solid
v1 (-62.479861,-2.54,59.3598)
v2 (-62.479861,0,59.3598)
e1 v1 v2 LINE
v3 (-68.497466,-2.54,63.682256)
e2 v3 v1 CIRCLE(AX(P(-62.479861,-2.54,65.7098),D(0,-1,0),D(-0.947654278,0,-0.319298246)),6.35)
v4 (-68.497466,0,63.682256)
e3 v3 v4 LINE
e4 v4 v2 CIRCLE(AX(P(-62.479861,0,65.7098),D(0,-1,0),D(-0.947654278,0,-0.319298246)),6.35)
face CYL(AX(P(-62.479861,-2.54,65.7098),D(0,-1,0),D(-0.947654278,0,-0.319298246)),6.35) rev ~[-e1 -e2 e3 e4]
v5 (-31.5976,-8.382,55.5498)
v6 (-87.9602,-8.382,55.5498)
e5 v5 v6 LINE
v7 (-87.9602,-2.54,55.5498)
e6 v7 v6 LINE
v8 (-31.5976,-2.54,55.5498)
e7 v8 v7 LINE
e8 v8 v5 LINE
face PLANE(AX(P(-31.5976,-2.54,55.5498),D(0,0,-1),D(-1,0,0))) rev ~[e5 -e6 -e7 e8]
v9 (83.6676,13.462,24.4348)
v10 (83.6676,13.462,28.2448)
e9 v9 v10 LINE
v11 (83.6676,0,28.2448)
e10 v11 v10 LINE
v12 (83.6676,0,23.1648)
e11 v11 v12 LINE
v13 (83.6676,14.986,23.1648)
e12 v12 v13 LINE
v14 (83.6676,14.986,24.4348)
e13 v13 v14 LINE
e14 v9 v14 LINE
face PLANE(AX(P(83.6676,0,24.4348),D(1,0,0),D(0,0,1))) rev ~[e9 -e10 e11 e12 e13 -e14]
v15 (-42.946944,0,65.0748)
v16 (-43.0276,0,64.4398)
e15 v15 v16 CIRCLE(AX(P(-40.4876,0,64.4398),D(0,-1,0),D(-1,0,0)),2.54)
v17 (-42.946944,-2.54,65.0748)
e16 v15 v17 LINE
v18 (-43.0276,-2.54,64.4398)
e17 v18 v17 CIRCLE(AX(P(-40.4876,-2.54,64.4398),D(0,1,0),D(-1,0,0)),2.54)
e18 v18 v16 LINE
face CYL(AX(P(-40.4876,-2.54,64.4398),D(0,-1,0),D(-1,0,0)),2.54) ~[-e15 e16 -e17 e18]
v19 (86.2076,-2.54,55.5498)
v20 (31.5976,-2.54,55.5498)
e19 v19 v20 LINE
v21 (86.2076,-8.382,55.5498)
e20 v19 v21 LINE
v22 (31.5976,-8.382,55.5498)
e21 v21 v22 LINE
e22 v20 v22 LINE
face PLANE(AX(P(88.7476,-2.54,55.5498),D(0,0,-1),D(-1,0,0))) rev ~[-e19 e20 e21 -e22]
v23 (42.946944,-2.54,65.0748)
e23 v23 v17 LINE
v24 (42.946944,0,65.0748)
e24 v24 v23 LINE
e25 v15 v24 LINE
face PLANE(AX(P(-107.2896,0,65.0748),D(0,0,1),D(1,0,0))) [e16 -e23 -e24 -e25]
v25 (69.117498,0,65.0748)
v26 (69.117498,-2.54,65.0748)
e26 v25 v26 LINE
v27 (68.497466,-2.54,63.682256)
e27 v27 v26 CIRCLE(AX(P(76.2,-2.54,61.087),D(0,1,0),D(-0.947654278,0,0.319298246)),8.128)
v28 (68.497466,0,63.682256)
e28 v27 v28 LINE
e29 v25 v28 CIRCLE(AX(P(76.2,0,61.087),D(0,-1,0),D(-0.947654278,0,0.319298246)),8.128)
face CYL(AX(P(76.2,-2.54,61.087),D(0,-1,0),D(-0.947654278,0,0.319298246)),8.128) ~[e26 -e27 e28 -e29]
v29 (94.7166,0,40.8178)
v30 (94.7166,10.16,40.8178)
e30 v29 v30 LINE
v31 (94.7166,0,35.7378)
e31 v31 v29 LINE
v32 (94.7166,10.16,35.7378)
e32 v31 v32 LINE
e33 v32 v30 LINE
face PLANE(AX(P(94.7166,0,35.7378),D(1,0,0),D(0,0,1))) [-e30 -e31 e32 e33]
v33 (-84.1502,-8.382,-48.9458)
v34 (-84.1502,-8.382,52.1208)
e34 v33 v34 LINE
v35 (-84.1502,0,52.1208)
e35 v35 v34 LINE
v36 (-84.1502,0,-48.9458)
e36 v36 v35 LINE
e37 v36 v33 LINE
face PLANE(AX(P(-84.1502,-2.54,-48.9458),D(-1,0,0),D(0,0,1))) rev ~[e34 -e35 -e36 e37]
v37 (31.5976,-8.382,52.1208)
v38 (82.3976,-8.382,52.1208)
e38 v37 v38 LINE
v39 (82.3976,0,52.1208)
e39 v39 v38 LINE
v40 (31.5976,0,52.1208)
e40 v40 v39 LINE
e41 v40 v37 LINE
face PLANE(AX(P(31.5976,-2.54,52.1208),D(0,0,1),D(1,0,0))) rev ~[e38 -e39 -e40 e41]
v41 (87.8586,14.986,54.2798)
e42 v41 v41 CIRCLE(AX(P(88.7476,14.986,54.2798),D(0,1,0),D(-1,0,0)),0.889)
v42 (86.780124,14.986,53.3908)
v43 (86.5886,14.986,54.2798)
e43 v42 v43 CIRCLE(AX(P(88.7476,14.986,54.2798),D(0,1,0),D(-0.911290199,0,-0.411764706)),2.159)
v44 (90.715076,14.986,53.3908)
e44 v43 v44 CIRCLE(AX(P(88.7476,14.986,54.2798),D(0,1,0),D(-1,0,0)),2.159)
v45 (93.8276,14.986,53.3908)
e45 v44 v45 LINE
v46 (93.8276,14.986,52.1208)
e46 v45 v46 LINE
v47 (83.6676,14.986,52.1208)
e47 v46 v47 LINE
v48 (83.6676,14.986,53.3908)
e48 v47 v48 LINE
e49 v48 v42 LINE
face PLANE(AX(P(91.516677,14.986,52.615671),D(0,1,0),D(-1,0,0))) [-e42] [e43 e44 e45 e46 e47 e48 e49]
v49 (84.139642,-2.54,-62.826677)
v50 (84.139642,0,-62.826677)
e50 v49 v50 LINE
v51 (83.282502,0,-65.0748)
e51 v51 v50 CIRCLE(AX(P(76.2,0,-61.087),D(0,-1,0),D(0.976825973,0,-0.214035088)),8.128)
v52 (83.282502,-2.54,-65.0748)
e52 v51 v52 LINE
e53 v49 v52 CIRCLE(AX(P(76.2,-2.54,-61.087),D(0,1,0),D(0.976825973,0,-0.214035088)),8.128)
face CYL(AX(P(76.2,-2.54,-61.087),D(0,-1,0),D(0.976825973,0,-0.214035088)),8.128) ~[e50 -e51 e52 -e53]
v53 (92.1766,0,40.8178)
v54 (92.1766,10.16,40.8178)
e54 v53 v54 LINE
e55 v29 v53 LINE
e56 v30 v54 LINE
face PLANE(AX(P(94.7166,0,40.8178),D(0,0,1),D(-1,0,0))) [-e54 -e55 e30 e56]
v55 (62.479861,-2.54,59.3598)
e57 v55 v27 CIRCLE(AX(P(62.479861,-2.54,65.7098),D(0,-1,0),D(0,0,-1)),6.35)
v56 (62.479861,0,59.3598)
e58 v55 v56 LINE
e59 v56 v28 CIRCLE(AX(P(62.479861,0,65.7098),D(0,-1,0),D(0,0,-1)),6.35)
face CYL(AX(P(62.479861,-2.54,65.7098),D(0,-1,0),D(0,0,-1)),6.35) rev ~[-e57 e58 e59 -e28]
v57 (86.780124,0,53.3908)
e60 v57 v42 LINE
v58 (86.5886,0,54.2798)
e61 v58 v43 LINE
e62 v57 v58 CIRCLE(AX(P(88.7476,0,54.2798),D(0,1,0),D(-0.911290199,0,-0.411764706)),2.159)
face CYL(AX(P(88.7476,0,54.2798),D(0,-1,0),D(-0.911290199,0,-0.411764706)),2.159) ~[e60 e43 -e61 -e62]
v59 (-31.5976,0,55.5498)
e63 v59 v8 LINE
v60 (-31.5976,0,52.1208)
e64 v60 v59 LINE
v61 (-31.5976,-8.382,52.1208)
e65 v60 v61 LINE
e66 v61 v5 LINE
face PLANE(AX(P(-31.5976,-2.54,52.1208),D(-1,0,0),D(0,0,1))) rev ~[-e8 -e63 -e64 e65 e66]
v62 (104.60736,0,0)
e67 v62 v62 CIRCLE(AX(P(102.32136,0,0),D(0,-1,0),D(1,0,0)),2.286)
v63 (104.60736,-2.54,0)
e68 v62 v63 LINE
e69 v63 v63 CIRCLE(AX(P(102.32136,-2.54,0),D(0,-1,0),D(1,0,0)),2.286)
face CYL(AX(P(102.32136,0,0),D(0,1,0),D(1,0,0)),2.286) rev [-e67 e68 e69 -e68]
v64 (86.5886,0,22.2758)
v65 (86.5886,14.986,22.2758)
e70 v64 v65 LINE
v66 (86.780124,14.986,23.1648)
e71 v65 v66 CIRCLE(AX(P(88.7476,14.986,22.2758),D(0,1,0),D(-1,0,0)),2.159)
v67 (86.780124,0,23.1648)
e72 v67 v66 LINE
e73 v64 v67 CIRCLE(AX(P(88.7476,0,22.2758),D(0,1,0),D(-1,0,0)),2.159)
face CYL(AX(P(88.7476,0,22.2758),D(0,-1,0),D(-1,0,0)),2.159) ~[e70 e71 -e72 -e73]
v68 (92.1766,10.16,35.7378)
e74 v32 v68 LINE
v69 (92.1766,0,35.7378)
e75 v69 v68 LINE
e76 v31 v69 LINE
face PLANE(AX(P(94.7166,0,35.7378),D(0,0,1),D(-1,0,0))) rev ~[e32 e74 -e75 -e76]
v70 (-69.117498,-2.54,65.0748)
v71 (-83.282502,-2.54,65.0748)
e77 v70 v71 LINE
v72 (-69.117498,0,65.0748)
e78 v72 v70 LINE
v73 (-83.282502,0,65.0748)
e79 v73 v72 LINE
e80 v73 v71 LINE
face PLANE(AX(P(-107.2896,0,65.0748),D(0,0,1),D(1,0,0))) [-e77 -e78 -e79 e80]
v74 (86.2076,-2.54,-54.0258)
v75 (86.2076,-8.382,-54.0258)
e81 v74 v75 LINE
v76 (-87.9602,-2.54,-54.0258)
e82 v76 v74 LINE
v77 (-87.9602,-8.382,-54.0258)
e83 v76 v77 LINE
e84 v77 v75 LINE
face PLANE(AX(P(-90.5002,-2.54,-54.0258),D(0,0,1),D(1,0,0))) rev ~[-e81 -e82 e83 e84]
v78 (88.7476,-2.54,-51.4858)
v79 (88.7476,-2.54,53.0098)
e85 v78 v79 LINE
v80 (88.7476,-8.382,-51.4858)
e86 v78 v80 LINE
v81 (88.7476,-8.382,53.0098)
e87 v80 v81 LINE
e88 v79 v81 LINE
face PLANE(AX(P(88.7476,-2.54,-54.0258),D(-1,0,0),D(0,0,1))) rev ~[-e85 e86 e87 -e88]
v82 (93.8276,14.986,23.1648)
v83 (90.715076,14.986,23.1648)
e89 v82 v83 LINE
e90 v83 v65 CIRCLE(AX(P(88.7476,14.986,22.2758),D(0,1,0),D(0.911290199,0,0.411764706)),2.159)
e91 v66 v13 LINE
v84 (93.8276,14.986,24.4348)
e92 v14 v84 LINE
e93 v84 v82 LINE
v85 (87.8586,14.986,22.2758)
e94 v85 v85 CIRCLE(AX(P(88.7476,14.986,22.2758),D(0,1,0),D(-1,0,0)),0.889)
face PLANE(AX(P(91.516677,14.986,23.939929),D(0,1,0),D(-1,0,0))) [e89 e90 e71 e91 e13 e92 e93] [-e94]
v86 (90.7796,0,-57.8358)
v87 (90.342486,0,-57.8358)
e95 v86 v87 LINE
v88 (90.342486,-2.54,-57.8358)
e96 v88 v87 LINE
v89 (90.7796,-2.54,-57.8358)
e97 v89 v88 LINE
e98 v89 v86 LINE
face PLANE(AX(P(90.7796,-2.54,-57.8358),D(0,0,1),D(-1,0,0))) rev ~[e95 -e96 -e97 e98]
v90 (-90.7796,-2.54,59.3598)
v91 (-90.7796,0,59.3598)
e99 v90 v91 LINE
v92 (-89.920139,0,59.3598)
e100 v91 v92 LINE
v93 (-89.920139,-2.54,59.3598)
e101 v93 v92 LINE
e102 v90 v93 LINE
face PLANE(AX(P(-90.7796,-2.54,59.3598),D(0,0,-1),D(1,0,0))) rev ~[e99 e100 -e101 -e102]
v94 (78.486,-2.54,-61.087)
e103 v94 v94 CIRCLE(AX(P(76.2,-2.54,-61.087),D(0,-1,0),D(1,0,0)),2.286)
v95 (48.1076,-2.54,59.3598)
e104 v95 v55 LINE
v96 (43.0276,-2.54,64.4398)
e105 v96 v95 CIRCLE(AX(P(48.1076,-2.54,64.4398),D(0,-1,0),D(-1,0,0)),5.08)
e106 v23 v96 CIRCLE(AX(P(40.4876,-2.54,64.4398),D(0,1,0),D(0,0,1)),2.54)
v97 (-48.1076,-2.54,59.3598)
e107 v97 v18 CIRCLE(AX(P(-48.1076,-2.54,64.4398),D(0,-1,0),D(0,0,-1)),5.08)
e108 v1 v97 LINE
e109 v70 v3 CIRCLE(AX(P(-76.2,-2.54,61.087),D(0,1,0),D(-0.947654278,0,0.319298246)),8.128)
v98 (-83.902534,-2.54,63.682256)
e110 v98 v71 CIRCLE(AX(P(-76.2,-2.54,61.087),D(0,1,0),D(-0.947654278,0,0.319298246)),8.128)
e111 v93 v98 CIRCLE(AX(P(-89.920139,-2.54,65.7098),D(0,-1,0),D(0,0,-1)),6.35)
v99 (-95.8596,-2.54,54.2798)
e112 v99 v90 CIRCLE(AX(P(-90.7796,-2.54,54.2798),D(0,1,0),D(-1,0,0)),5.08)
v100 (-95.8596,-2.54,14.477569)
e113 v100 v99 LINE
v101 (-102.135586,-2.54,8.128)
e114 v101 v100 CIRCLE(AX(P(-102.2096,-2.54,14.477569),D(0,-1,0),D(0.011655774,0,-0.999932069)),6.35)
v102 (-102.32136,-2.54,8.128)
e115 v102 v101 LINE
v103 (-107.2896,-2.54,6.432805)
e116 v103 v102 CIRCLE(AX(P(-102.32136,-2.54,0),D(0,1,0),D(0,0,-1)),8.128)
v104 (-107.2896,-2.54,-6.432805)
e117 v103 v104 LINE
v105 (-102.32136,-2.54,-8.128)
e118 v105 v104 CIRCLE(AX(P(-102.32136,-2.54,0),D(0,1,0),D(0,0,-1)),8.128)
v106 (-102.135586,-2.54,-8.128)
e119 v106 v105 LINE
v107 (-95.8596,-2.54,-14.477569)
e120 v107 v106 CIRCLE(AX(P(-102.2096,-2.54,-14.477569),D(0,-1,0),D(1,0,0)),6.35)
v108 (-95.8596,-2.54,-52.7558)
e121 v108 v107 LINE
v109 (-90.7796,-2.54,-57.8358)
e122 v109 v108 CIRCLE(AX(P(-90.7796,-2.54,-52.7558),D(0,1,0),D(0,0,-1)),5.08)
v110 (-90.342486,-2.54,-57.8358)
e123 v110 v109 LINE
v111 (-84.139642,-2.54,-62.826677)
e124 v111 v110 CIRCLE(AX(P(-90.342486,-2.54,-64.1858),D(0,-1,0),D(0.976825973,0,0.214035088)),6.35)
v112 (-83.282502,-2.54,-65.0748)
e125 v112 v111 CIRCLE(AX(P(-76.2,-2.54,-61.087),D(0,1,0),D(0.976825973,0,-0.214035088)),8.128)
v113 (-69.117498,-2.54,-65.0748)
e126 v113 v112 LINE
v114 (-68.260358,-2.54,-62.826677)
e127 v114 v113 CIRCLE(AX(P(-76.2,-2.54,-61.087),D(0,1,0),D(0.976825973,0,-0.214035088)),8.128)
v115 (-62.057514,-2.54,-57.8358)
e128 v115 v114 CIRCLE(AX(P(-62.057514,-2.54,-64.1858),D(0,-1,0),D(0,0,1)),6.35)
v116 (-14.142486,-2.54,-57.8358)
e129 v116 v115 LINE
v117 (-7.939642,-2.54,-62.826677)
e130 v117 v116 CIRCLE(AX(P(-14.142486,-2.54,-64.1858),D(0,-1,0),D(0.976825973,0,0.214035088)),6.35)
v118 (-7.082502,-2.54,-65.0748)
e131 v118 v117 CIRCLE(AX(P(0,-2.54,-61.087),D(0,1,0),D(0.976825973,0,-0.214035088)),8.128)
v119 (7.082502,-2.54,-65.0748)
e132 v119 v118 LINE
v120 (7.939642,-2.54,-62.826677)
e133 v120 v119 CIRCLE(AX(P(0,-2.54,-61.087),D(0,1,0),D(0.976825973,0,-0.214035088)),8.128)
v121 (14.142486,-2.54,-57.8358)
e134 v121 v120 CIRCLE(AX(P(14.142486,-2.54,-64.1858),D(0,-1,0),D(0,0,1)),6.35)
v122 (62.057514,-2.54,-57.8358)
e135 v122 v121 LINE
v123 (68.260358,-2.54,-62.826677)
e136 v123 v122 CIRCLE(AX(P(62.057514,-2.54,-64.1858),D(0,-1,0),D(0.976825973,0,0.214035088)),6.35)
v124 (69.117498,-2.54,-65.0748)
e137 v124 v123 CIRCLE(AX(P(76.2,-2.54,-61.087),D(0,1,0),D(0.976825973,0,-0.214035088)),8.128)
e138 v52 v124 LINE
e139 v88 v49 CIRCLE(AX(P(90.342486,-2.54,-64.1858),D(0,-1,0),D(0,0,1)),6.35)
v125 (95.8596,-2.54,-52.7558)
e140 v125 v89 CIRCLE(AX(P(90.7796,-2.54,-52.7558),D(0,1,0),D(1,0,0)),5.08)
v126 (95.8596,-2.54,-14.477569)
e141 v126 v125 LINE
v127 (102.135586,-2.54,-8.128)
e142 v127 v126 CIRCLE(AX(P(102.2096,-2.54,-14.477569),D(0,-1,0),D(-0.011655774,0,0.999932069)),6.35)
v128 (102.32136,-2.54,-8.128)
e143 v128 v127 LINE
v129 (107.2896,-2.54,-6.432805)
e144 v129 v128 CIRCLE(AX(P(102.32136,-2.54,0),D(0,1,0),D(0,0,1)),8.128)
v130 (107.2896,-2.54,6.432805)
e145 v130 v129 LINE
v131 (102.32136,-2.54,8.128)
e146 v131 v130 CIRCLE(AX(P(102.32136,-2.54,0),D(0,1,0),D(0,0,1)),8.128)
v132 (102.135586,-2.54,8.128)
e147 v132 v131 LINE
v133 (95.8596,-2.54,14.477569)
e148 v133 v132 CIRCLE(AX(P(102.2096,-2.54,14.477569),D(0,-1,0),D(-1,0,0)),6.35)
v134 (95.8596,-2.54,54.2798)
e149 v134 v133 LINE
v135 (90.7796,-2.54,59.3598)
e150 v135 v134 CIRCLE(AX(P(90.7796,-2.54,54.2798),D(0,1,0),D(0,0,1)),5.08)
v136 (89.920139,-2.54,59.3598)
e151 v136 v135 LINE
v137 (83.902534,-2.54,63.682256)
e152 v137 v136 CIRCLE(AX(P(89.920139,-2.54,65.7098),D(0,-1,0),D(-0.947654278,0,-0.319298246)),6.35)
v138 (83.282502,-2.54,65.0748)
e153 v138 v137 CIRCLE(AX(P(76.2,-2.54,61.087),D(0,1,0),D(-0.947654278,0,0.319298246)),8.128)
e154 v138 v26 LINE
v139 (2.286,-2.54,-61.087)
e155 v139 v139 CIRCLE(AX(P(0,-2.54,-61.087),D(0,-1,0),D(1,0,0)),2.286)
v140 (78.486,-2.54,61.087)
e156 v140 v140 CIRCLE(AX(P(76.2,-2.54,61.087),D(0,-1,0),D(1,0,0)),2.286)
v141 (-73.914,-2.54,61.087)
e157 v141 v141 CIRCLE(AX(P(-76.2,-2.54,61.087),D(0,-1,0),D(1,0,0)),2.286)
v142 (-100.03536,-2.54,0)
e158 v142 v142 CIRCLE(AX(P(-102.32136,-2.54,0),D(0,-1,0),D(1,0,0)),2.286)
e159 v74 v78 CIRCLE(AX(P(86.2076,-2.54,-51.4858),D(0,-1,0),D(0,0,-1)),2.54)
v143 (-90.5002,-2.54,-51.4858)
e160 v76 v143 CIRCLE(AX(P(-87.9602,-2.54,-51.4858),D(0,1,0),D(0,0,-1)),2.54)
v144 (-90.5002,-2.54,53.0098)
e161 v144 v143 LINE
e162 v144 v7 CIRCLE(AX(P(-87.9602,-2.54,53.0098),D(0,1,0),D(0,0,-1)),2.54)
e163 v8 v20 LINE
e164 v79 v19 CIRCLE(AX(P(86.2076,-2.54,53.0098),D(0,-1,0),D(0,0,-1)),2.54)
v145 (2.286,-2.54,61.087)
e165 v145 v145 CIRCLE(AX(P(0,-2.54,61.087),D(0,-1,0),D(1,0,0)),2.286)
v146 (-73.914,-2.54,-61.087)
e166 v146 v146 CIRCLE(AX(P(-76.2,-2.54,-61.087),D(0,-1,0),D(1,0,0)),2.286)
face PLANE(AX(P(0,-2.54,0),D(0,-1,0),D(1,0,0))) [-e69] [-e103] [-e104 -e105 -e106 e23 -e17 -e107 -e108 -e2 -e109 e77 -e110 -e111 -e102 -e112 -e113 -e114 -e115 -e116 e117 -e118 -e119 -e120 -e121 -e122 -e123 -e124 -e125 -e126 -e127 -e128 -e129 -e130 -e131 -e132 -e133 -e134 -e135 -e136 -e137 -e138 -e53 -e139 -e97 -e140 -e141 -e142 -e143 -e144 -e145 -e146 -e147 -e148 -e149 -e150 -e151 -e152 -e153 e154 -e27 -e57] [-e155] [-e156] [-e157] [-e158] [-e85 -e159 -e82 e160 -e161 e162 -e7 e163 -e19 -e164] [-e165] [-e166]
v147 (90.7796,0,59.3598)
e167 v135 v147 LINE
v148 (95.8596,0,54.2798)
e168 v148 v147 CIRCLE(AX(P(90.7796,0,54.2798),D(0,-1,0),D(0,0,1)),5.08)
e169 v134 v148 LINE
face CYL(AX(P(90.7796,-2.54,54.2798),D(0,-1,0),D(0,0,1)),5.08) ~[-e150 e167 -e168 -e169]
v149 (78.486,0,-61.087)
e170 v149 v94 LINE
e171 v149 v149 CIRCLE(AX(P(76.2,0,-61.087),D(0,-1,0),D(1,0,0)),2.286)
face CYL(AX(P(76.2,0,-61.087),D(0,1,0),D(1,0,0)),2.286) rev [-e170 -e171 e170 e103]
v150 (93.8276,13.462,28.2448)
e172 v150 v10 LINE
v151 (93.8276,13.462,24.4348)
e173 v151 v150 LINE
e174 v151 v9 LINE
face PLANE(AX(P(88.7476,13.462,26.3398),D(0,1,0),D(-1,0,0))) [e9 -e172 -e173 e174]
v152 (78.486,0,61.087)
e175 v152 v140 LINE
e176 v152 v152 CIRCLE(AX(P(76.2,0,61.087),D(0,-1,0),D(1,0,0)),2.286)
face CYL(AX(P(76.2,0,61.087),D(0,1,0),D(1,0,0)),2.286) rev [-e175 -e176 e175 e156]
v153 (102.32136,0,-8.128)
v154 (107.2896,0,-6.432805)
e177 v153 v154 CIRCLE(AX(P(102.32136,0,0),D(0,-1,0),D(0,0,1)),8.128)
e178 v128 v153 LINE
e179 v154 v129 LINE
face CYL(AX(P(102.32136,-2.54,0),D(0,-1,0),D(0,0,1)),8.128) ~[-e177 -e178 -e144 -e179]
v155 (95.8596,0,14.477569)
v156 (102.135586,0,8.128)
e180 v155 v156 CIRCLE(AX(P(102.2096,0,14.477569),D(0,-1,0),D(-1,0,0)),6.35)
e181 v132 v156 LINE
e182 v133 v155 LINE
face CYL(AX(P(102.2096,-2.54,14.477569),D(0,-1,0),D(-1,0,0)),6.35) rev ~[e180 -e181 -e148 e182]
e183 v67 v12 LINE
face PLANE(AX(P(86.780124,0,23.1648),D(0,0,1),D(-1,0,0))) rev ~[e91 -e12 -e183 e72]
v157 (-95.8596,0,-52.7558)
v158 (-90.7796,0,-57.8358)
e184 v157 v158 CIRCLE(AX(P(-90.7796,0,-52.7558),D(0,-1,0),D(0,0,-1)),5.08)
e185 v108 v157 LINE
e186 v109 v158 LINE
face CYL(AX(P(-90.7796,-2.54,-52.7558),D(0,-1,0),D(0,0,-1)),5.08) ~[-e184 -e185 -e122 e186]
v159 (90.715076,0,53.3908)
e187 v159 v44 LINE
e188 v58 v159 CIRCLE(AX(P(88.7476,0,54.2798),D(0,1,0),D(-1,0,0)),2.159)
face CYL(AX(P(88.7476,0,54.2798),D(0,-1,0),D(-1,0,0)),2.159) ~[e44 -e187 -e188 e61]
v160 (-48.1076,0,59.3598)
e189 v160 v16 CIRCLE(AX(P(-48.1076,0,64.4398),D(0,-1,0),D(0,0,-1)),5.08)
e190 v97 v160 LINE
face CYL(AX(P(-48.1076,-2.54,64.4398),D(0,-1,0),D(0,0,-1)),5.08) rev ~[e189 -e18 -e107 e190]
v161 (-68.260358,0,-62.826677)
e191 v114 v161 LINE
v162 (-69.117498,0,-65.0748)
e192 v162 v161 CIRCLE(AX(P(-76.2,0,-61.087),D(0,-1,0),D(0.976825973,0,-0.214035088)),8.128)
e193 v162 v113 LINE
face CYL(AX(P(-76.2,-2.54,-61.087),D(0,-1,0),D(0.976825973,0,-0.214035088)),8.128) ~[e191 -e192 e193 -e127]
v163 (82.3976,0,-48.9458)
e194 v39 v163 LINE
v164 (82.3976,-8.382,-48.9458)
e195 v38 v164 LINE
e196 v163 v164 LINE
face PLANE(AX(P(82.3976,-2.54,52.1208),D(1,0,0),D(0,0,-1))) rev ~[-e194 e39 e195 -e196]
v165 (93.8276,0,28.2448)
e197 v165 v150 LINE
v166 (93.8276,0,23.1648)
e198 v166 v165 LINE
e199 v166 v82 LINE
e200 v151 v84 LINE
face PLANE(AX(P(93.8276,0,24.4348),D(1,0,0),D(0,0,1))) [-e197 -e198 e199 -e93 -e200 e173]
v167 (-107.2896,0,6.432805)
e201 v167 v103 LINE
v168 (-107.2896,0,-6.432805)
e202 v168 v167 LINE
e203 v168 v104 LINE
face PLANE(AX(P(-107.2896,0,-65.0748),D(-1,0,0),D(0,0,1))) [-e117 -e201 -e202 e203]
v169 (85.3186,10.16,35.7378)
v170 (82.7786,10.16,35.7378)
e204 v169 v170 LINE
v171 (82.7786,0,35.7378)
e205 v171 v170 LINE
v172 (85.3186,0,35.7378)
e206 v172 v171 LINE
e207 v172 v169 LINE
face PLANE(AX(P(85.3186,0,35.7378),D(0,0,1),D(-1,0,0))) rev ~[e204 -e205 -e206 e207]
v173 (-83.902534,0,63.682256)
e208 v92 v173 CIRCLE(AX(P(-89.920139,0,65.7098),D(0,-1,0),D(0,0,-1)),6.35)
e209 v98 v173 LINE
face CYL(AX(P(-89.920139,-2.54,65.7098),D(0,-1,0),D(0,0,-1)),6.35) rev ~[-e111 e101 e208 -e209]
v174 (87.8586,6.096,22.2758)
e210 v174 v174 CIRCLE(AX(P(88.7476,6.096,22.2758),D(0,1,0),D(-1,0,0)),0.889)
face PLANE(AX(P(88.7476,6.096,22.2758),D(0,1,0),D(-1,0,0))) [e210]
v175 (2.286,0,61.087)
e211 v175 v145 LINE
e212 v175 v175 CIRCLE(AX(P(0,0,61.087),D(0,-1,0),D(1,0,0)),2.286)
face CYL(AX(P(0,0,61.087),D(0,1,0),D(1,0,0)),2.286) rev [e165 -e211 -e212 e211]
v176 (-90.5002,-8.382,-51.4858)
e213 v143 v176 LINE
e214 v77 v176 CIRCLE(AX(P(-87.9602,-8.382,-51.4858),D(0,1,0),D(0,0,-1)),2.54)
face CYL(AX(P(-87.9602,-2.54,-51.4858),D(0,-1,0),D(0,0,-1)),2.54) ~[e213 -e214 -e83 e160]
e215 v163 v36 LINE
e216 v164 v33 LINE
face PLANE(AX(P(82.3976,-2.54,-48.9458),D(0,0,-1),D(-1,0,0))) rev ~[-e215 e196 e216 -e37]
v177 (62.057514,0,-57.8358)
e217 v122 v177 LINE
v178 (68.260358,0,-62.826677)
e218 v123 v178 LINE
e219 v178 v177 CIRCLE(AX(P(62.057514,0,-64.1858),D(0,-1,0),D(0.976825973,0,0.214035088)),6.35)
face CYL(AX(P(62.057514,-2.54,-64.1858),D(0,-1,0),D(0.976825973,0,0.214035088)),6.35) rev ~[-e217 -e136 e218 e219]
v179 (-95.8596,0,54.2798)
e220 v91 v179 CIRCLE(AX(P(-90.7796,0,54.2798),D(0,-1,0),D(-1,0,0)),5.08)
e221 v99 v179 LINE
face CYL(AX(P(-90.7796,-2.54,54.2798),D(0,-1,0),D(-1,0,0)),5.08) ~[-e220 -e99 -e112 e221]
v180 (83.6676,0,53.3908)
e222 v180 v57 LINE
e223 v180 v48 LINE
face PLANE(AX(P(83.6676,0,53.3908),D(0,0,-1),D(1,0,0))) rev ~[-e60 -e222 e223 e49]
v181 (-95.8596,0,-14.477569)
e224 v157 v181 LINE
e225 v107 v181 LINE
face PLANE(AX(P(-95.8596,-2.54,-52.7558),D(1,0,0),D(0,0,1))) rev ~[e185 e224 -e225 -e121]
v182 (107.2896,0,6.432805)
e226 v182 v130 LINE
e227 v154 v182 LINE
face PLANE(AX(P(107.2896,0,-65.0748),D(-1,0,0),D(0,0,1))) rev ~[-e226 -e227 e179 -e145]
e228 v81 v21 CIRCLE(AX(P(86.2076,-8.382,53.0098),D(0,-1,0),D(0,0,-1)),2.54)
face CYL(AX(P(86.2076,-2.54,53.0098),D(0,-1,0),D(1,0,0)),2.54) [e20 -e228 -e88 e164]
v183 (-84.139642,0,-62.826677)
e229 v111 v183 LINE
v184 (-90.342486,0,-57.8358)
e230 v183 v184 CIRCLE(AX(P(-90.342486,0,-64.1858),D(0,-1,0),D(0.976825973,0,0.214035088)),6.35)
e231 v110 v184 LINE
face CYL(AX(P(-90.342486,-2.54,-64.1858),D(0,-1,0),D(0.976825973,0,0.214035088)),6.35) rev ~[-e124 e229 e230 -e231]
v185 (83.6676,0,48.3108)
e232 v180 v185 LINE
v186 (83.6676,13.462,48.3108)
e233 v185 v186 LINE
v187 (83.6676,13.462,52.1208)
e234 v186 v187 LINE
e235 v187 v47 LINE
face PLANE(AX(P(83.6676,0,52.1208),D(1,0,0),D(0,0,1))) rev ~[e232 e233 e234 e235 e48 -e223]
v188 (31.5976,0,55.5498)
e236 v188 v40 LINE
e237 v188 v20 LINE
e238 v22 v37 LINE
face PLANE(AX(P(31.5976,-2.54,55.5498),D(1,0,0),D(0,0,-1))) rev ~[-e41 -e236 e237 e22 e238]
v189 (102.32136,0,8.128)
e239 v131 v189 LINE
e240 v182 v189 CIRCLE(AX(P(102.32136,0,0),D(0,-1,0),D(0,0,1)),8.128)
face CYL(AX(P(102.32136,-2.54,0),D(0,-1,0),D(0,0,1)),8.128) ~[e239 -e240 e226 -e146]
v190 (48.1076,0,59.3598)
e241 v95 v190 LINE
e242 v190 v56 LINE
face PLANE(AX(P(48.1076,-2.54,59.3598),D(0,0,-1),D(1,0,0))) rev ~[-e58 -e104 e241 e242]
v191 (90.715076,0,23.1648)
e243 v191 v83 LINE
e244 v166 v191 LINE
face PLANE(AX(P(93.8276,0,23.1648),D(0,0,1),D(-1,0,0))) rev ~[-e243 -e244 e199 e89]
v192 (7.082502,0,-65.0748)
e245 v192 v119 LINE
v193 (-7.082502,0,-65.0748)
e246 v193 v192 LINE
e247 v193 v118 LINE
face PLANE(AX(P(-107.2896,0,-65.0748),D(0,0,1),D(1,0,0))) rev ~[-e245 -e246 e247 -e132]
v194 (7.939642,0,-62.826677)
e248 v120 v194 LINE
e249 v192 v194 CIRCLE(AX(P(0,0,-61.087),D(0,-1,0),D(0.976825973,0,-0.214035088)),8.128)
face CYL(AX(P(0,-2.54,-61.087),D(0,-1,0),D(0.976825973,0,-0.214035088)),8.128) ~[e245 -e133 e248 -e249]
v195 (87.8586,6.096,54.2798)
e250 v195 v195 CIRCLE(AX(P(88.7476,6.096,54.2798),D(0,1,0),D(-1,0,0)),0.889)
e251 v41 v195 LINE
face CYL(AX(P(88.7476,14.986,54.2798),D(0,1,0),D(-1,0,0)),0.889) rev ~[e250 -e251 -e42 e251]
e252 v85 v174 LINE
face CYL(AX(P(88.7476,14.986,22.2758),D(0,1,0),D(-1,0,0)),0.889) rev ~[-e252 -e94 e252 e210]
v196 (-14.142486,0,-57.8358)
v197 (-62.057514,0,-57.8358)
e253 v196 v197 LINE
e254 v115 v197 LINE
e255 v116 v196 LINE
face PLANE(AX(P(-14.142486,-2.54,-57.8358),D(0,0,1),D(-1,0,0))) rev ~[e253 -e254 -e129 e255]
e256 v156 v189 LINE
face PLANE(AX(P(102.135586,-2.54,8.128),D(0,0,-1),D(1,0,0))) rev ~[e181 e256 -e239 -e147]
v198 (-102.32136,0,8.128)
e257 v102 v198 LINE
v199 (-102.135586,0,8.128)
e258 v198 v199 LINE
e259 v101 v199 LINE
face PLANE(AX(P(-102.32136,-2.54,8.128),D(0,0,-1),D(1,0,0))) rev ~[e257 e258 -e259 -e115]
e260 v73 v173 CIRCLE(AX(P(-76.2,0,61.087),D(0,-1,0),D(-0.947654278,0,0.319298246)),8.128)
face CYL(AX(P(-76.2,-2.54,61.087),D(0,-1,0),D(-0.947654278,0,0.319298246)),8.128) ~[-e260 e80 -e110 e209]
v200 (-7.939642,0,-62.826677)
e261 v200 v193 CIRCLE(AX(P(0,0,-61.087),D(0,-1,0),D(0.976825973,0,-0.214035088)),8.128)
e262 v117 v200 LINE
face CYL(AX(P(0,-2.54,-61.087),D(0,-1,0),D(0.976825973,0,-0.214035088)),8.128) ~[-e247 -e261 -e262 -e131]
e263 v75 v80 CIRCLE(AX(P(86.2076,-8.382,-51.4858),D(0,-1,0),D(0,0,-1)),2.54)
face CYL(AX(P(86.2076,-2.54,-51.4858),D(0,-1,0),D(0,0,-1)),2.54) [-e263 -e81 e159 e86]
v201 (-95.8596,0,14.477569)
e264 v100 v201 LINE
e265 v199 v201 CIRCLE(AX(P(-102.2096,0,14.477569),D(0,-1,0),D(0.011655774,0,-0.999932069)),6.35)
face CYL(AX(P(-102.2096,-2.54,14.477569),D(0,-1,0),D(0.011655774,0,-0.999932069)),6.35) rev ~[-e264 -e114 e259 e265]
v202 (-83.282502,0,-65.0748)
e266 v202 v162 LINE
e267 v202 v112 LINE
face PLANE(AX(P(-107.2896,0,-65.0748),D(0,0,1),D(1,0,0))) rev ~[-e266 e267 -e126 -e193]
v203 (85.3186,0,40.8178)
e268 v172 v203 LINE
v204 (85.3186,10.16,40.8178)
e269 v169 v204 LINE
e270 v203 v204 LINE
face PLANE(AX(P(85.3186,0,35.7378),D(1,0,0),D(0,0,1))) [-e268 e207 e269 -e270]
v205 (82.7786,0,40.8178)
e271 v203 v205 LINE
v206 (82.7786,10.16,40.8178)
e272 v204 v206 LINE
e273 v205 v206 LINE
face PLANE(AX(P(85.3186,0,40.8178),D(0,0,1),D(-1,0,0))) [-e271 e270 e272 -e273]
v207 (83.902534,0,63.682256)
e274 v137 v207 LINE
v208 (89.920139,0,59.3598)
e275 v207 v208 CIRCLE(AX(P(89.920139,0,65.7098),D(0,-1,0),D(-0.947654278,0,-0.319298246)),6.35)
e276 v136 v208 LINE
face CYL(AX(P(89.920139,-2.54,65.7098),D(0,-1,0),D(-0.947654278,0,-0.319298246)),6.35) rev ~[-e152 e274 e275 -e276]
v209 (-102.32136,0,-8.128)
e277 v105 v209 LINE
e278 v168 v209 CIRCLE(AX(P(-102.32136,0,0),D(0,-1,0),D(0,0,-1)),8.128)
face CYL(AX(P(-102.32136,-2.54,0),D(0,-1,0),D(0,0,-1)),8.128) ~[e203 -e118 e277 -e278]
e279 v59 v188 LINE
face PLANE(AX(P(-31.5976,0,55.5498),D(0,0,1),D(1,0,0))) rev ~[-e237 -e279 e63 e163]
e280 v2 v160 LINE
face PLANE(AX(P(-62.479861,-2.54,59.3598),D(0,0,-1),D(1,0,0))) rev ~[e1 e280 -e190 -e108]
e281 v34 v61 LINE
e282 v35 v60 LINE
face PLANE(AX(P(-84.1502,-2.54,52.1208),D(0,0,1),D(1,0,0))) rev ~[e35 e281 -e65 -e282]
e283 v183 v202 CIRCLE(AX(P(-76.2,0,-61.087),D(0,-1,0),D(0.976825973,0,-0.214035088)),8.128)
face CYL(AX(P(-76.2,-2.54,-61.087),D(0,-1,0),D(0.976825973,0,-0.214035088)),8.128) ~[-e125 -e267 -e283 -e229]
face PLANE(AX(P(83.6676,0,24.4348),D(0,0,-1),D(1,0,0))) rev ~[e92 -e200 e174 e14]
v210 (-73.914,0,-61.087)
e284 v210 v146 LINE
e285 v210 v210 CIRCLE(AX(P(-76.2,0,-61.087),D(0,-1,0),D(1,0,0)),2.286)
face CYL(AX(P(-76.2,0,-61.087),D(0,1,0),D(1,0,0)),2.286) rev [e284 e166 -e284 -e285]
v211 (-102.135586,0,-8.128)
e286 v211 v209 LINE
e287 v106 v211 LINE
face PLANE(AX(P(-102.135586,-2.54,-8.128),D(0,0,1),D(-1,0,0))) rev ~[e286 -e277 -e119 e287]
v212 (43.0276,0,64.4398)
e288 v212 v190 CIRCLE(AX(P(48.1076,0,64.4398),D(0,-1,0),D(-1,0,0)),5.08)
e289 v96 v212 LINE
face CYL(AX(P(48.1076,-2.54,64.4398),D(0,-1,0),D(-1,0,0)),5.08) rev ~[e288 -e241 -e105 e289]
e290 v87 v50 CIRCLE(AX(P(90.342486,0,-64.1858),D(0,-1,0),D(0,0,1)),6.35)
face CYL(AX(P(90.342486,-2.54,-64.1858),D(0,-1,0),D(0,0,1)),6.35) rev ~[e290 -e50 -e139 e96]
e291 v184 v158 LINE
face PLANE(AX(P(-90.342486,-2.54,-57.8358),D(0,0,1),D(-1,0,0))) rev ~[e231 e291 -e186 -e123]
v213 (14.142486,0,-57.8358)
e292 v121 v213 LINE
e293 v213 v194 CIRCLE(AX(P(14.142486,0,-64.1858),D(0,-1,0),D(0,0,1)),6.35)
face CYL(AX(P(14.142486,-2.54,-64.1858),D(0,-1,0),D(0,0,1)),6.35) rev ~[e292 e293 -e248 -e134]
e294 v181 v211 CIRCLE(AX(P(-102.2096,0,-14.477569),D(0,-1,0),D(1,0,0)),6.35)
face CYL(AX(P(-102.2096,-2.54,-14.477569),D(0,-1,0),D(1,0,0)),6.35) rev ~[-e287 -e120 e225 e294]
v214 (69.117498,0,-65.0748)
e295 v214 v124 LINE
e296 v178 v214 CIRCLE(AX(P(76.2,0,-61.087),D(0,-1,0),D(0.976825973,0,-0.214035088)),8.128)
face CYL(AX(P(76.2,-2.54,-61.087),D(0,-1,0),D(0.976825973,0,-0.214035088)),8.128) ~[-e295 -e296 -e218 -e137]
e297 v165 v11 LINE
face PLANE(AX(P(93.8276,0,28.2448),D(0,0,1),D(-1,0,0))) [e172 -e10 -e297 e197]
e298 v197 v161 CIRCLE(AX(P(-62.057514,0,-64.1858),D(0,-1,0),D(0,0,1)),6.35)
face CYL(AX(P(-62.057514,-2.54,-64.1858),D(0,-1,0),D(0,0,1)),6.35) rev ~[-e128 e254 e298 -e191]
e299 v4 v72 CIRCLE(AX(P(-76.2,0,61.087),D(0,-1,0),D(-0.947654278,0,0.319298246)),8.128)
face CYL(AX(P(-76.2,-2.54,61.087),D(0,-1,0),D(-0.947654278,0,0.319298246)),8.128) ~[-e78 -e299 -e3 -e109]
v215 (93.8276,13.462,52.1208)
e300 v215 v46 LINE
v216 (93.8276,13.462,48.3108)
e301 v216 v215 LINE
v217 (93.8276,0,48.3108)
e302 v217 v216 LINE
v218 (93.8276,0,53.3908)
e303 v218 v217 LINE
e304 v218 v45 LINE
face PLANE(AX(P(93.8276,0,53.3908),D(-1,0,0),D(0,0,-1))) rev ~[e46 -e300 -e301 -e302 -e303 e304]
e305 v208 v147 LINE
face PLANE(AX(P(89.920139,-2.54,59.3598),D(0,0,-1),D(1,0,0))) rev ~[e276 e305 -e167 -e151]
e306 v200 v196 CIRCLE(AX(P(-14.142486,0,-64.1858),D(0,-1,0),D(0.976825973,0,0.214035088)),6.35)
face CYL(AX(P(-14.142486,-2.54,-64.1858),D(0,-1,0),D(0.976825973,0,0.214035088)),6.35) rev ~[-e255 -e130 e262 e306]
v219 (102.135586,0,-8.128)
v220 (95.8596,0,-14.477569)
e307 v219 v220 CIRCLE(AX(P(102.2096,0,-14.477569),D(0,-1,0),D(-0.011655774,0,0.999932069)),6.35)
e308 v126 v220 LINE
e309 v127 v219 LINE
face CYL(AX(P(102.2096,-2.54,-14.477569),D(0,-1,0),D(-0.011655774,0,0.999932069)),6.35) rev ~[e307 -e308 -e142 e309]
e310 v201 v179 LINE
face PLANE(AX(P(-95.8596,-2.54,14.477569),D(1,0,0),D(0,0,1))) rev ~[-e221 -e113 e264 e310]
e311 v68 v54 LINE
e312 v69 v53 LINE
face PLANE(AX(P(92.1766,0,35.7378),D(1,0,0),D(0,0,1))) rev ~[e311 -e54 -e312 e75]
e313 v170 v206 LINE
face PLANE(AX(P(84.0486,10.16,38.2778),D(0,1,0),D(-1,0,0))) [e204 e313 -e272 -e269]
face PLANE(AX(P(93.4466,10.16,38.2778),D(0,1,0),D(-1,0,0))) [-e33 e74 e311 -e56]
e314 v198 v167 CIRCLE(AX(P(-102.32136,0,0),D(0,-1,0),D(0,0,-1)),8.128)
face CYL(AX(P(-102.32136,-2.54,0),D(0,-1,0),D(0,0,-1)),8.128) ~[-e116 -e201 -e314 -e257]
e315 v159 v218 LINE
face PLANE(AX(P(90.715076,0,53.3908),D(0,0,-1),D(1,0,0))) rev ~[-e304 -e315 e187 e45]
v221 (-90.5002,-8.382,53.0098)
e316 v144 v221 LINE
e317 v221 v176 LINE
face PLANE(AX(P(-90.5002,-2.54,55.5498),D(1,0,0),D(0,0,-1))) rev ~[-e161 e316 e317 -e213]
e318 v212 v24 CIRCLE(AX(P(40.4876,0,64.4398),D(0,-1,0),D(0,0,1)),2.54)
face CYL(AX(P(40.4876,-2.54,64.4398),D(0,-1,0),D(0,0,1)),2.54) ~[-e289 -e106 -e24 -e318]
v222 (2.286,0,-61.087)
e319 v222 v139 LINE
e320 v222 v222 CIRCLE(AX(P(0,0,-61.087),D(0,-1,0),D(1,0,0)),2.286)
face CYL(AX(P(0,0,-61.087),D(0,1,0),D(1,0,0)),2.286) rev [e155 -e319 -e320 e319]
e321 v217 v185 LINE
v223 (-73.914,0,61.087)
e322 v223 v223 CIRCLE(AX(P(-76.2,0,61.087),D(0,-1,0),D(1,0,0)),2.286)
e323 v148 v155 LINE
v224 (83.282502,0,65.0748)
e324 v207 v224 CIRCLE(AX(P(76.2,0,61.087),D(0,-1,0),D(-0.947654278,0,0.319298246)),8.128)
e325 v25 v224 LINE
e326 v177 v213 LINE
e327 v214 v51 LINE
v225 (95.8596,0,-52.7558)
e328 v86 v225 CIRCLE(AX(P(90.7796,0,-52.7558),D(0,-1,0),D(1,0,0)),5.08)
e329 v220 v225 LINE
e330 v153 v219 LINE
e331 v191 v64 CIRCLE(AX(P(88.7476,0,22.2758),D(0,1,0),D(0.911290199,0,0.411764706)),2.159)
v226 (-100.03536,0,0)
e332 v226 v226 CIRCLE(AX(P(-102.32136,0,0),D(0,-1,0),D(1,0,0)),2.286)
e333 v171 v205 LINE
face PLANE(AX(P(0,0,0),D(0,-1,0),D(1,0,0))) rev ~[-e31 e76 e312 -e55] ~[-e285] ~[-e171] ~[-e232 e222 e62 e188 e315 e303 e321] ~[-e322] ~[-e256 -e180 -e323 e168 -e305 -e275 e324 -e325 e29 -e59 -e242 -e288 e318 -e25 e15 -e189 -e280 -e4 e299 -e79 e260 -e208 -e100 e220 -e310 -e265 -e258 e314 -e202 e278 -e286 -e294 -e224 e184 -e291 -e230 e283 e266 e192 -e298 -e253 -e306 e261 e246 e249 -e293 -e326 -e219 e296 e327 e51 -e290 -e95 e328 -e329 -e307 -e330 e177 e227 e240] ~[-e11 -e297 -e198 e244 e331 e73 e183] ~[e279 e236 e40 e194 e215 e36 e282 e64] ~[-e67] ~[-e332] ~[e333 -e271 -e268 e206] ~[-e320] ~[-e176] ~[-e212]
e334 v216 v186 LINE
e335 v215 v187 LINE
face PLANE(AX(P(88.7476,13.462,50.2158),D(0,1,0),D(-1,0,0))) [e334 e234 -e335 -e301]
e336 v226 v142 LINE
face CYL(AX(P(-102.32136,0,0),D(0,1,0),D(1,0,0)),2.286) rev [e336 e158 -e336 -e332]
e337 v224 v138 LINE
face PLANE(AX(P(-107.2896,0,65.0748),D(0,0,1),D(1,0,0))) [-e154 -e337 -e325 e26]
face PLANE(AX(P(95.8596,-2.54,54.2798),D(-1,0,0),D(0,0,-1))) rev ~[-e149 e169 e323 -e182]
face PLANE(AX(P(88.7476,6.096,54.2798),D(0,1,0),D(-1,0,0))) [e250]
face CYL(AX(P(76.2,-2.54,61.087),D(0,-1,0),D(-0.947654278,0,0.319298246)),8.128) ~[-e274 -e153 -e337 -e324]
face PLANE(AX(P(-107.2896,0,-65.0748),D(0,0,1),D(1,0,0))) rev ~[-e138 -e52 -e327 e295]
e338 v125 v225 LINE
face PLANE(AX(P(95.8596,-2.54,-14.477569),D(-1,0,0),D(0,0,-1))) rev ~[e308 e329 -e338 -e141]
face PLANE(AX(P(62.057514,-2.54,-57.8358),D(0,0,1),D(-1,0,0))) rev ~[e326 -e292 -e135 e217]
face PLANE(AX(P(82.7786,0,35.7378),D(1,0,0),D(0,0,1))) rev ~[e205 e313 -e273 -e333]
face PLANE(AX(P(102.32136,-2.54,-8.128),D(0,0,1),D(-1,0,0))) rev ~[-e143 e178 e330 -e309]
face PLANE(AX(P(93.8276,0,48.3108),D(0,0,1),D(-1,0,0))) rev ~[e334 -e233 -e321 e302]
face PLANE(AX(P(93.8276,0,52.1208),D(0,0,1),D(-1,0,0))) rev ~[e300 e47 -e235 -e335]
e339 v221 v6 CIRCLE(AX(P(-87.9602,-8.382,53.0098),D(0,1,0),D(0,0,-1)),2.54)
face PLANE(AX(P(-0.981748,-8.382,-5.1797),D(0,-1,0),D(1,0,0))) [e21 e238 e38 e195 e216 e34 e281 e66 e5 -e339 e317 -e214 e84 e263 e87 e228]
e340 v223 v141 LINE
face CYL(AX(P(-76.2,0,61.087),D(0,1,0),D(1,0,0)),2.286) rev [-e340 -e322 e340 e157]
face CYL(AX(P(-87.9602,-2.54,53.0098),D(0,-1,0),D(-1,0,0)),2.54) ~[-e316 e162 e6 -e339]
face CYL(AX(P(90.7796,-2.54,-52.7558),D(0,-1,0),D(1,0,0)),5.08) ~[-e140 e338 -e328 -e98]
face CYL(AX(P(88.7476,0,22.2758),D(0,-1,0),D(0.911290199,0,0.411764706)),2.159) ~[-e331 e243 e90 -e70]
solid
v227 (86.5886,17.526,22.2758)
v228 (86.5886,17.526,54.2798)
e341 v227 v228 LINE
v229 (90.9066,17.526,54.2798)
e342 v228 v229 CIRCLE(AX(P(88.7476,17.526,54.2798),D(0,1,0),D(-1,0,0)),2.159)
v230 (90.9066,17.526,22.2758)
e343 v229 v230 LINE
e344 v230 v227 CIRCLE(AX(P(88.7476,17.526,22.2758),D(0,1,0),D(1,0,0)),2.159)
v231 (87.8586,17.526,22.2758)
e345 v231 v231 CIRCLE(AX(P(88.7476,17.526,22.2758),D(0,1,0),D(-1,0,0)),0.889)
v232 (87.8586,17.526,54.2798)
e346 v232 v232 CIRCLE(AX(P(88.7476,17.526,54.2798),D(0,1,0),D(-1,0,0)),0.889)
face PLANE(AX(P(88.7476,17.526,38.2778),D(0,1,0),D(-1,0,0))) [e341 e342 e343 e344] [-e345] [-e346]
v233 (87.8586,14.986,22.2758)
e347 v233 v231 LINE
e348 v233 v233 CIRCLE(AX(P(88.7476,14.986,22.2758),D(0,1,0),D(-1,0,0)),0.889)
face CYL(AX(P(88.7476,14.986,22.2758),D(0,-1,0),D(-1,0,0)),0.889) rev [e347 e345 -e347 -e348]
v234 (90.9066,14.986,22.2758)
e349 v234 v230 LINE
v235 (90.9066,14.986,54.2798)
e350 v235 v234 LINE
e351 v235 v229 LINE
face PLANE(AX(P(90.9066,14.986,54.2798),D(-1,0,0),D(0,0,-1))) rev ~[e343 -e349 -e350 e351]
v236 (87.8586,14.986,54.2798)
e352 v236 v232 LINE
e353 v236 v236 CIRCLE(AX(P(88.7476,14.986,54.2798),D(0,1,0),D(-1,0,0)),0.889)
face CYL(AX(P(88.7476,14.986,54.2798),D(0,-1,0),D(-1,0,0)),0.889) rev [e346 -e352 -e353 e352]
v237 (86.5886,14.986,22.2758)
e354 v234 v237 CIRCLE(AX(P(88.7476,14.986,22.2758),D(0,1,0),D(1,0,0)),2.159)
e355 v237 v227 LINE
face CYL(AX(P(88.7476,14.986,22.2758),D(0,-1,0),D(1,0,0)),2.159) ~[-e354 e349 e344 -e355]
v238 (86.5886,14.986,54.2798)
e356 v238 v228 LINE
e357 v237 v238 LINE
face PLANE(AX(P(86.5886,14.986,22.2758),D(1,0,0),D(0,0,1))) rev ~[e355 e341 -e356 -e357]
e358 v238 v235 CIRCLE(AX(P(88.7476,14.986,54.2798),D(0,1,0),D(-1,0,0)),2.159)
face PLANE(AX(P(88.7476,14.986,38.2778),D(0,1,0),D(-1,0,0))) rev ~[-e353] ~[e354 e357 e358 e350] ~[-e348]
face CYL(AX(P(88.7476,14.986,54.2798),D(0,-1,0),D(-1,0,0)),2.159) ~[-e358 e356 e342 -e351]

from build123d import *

# Parameters (mm, degrees)
F0_W      = 245.11
F0_H      = 152.4
F0_R      = 2.286
F1_DEPTH  = 2.54
F3_DEPTH  = 5.842
F4_W      = 245.11
F4_H      = 152.4
F5_DEPTH  = 25.4
F6_R      = 2.54
F7_W      = 258.2781612873
F7_H      = 175.8654415607
F7_W_2    = 214.5792
F7_H_2    = 130.1496
F8_DEPTH  = 8.383
F9_W      = 10.16
F9_H      = 3.81
F10_DEPTH = 13.462
F12_DEPTH = 14.986
F13_R     = 0.889
F14_DEPTH = 8.89
F15_R     = 0.889
F16_DEPTH = 2.54
F17_W     = 2.54
F17_H     = 5.08
F18_DEPTH = 10.16


with BuildPart() as f1:
    # F0 (on Front) → F1 (new body)
    with BuildSketch(Plane.XZ):
        Rectangle(F0_W, F0_H)
        with Locations((-76.2, -61.087)):
            Circle(F0_R, mode=Mode.SUBTRACT)
        with Locations((0, -61.087)):
            Circle(F0_R, mode=Mode.SUBTRACT)
        with Locations((76.2, -61.087)):
            Circle(F0_R, mode=Mode.SUBTRACT)
        with Locations((-102.32136, 0)):
            Circle(F0_R, mode=Mode.SUBTRACT)
        Polygon((82.3976, -48.9458), (-84.1502, -48.9458), (-84.1502, 52.1208), (-31.5976, 52.1208), (-31.5976, 55.5498), (31.5976, 55.5498), (31.5976, 52.1208), (82.3976, 52.1208), align=None, mode=Mode.SUBTRACT)
        with Locations((-76.2, 61.087)):
            Circle(F0_R, mode=Mode.SUBTRACT)
        with Locations((102.32136, 0)):
            Circle(F0_R, mode=Mode.SUBTRACT)
        with Locations((0, 61.087)):
            Circle(F0_R, mode=Mode.SUBTRACT)
        with Locations((76.2, 61.087)):
            Circle(F0_R, mode=Mode.SUBTRACT)
    extrude(amount=F1_DEPTH)

    # F2 (on face) → F3 (join)
    with BuildSketch(Plane.XZ.offset(2.54)):
        Polygon((-90.5002, -54.0258), (88.7476, -54.0258), (88.7476, 55.5498), (31.5976, 55.5498), (31.5976, 52.1208), (82.3976, 52.1208), (82.3976, -48.9458), (-84.1502, -48.9458), (-84.1502, 52.1208), (-31.5976, 52.1208), (-31.5976, 55.5498), (-90.5002, 55.5498), align=None)
    extrude(amount=F3_DEPTH)

    # F4 (on face) → F5 (cut)
    with BuildSketch(Plane.XZ.offset(2.54)):
        Rectangle(F4_W, F4_H)
        with BuildLine():
            ThreePointArc((-95.8596, 54.2798), (-94.3717024484, 57.8719024484), (-90.7796, 59.3598))
            Line((-90.7796, 59.3598), (-89.9201386349, 59.3598))
            ThreePointArc((-89.9201386349, 59.3598), (-86.2155741199, 60.5524070778), (-83.9025339705, 63.6822561404))
            ThreePointArc((-83.9025339705, 63.6822561404), (-76.2, 69.215), (-68.4974660295, 63.6822561404))
            ThreePointArc((-68.4974660295, 63.6822561404), (-66.1844258801, 60.5524070778), (-62.4798613651, 59.3598))
            Line((-62.4798613651, 59.3598), (-48.1076, 59.3598))
            ThreePointArc((-48.1076, 59.3598), (-44.5154975516, 60.8476975516), (-43.0276, 64.4398))
            ThreePointArc((-43.0276, 64.4398), (-42.2836512242, 66.2358512242), (-40.4876, 66.9798))
            Line((-40.4876, 66.9798), (8.6505254151, 66.9798))
            Line((8.6505254151, 66.9798), (40.4876, 66.9798))
            ThreePointArc((40.4876, 66.9798), (42.2836512242, 66.2358512242), (43.0276, 64.4398))
            ThreePointArc((43.0276, 64.4398), (44.5154975516, 60.8476975516), (48.1076, 59.3598))
            Line((48.1076, 59.3598), (62.4798613651, 59.3598))
            ThreePointArc((62.4798613651, 59.3598), (66.1844258801, 60.5524070778), (68.4974660295, 63.6822561404))
            ThreePointArc((68.4974660295, 63.6822561404), (76.2, 69.215), (83.9025339705, 63.6822561404))
            ThreePointArc((83.9025339705, 63.6822561404), (86.2155741199, 60.5524070778), (89.9201386349, 59.3598))
            Line((89.9201386349, 59.3598), (90.7796, 59.3598))
            ThreePointArc((90.7796, 59.3598), (94.3717024484, 57.8719024484), (95.8596, 54.2798))
            Line((95.8596, 54.2798), (95.8596, 14.4775686392))
            ThreePointArc((95.8596, 14.4775686392), (97.6933797922, 10.0136852363), (102.1355858376, 8.128))
            Line((102.1355858376, 8.128), (102.2836141624, 8.128))
            Line((102.2836141624, 8.128), (102.32136, 8.128))
            ThreePointArc((102.32136, 8.128), (110.44936, 0), (102.32136, -8.128))
            Line((102.32136, -8.128), (102.2836141624, -8.128))
            Line((102.2836141624, -8.128), (102.1355858376, -8.128))
            ThreePointArc((102.1355858376, -8.128), (97.6933797922, -10.0136852363), (95.8596, -14.4775686392))
            Line((95.8596, -14.4775686392), (95.8596, -52.7558))
            ThreePointArc((95.8596, -52.7558), (94.3717024484, -56.3479024484), (90.7796, -57.8358))
            Line((90.7796, -57.8358), (90.3424864349, -57.8358))
            ThreePointArc((90.3424864349, -57.8358), (86.3617785722, -59.2384305058), (84.1396415073, -62.826677193))
            ThreePointArc((84.1396415073, -62.826677193), (76.2, -69.215), (68.2603584927, -62.826677193))
            ThreePointArc((68.2603584927, -62.826677193), (66.0382214278, -59.2384305058), (62.0575135651, -57.8358))
            Line((62.0575135651, -57.8358), (14.1424864349, -57.8358))
            ThreePointArc((14.1424864349, -57.8358), (10.1617785722, -59.2384305058), (7.9396415073, -62.826677193))
            ThreePointArc((7.9396415073, -62.826677193), (0, -69.215), (-7.9396415073, -62.826677193))
            ThreePointArc((-7.9396415073, -62.826677193), (-10.1617785722, -59.2384305058), (-14.1424864349, -57.8358))
            Line((-14.1424864349, -57.8358), (-62.0575135651, -57.8358))
            ThreePointArc((-62.0575135651, -57.8358), (-66.0382214278, -59.2384305058), (-68.2603584927, -62.826677193))
            ThreePointArc((-68.2603584927, -62.826677193), (-76.2, -69.215), (-84.1396415073, -62.826677193))
            ThreePointArc((-84.1396415073, -62.826677193), (-86.3617785722, -59.2384305058), (-90.3424864349, -57.8358))
            Line((-90.3424864349, -57.8358), (-90.7796, -57.8358))
            ThreePointArc((-90.7796, -57.8358), (-94.3717024484, -56.3479024484), (-95.8596, -52.7558))
            Line((-95.8596, -52.7558), (-95.8596, -14.4775686392))
            ThreePointArc((-95.8596, -14.4775686392), (-97.6933797922, -10.0136852363), (-102.1355858376, -8.128))
            Line((-102.1355858376, -8.128), (-102.2836141624, -8.128))
            Line((-102.2836141624, -8.128), (-102.32136, -8.128))
            ThreePointArc((-102.32136, -8.128), (-110.44936, 0), (-102.32136, 8.128))
            Line((-102.32136, 8.128), (-102.2836141624, 8.128))
            Line((-102.2836141624, 8.128), (-102.1355858376, 8.128))
            ThreePointArc((-102.1355858376, 8.128), (-97.6933797922, 10.0136852363), (-95.8596, 14.4775686392))
            Line((-95.8596, 14.4775686392), (-95.8596, 54.2798))
        make_face(mode=Mode.SUBTRACT)
    extrude(amount=-F5_DEPTH, mode=Mode.SUBTRACT)

    # F6
    f6_edges = [f1.edges().sort_by_distance(p)[0] for p in [
        (-90.5002, -5.461, 55.5498),
        (-90.5002, -5.461, -54.0258),
        (88.7476, -5.461, 55.5498),
        (88.7476, -5.461, -54.0258),
    ]]
    fillet(f6_edges, radius=F6_R)

    # F7 (on Front) → F8 (cut, through all)
    with BuildSketch(Plane.XZ):
        Rectangle(F7_W, F7_H)
        Rectangle(F7_W_2, F7_H_2, mode=Mode.SUBTRACT)
    extrude(amount=F8_DEPTH, mode=Mode.SUBTRACT)

    # F9 (on face) → F10 (join)
    with BuildSketch(Plane(origin=(0, 0, 0), x_dir=(-1, 0, 0), z_dir=(0, 1, 0))):
        with Locations((-88.7476, 50.2158)):
            Rectangle(F9_W, F9_H)
        with Locations((-88.7476, 26.3398)):
            Rectangle(F9_W, F9_H)
    extrude(amount=F10_DEPTH)

    # F11 (on face) → F12 (join)
    with BuildSketch(Plane(origin=(0, 0, 0), x_dir=(-1, 0, 0), z_dir=(0, 1, 0))):
        with BuildLine():
            Line((-90.7150755399, 53.3908), (-93.8276, 53.3908))
            Line((-93.8276, 53.3908), (-93.8276, 52.1208))
            Line((-93.8276, 52.1208), (-88.7476, 52.1208))
            ThreePointArc((-88.7476, 52.1208), (-89.9184821461, 52.4658771792), (-90.7150755399, 53.3908))
        make_face()
        with BuildLine():
            ThreePointArc((-86.5886, 54.2798), (-89.2022984217, 56.3903758326), (-90.7150755399, 53.3908))
            Line((-90.7150755399, 53.3908), (-86.7801244601, 53.3908))
            ThreePointArc((-86.7801244601, 53.3908), (-86.6370241674, 53.8251015783), (-86.5886, 54.2798))
        make_face()
        with BuildLine():
            Line((-86.7801244601, 53.3908), (-90.7150755399, 53.3908))
            ThreePointArc((-90.7150755399, 53.3908), (-89.9184821461, 52.4658771792), (-88.7476, 52.1208))
            ThreePointArc((-88.7476, 52.1208), (-87.5767178539, 52.4658771792), (-86.7801244601, 53.3908))
        make_face()
        with BuildLine():
            Line((-83.6676, 53.3908), (-86.7801244601, 53.3908))
            ThreePointArc((-86.7801244601, 53.3908), (-87.5767178539, 52.4658771792), (-88.7476, 52.1208))
            Line((-88.7476, 52.1208), (-83.6676, 52.1208))
            Line((-83.6676, 52.1208), (-83.6676, 53.3908))
        make_face()
        with BuildLine():
            Line((-88.7476, 24.4348), (-93.8276, 24.4348))
            Line((-93.8276, 24.4348), (-93.8276, 23.1648))
            Line((-93.8276, 23.1648), (-90.7150755399, 23.1648))
            ThreePointArc((-90.7150755399, 23.1648), (-89.9184821461, 24.0897228208), (-88.7476, 24.4348))
        make_face()
        with BuildLine():
            Line((-83.6676, 24.4348), (-88.7476, 24.4348))
            ThreePointArc((-88.7476, 24.4348), (-87.5767178539, 24.0897228208), (-86.7801244601, 23.1648))
            Line((-86.7801244601, 23.1648), (-83.6676, 23.1648))
            Line((-83.6676, 23.1648), (-83.6676, 24.4348))
        make_face()
        with BuildLine():
            ThreePointArc((-86.7801244601, 23.1648), (-87.5767178539, 24.0897228208), (-88.7476, 24.4348))
            ThreePointArc((-88.7476, 24.4348), (-89.9184821461, 24.0897228208), (-90.7150755399, 23.1648))
            Line((-90.7150755399, 23.1648), (-86.7801244601, 23.1648))
        make_face()
        with BuildLine():
            ThreePointArc((-86.5886, 22.2758), (-86.6370241674, 22.7304984217), (-86.7801244601, 23.1648))
            Line((-86.7801244601, 23.1648), (-90.7150755399, 23.1648))
            ThreePointArc((-90.7150755399, 23.1648), (-89.2022984217, 20.1652241674), (-86.5886, 22.2758))
        make_face()
    extrude(amount=F12_DEPTH)

    # F13 (on face) → F14 (cut)
    with BuildSketch(Plane(origin=(0, 14.986, 0), x_dir=(-1, 0, 0), z_dir=(0, 1, 0))):
        with Locations((-88.7476, 54.2798)):
            Circle(F13_R)
        with Locations((-88.7476, 22.2758)):
            Circle(F13_R)
    extrude(amount=-F14_DEPTH, mode=Mode.SUBTRACT)

    # F17 (on face) → F18 (join)
    with BuildSketch(Plane(origin=(0, 0, 0), x_dir=(-1, 0, 0), z_dir=(0, 1, 0))):
        with Locations((-93.4466, 38.2778)):
            Rectangle(F17_W, F17_H)
        with Locations((-84.0486, 38.2778)):
            Rectangle(F17_W, F17_H)
    extrude(amount=F18_DEPTH)


with BuildPart() as f16:
    # F15 (on face) → F16 (new body)
    with BuildSketch(Plane(origin=(0, 14.986, 0), x_dir=(-1, 0, 0), z_dir=(0, 1, 0))):
        with BuildLine():
            Line((-86.5886, 22.2758), (-86.5886, 54.2798))
            ThreePointArc((-86.5886, 54.2798), (-88.7476, 56.4388), (-90.9066, 54.2798))
            Line((-90.9066, 54.2798), (-90.9066, 22.2758))
            ThreePointArc((-90.9066, 22.2758), (-88.7476, 20.1168), (-86.5886, 22.2758))
        make_face()
        with Locations((-88.7476, 22.2758)):
            Circle(F15_R, mode=Mode.SUBTRACT)
        with Locations((-88.7476, 54.2798)):
            Circle(F15_R, mode=Mode.SUBTRACT)
    extrude(amount=F16_DEPTH)


solid = Compound([f1.part, f16.part])
